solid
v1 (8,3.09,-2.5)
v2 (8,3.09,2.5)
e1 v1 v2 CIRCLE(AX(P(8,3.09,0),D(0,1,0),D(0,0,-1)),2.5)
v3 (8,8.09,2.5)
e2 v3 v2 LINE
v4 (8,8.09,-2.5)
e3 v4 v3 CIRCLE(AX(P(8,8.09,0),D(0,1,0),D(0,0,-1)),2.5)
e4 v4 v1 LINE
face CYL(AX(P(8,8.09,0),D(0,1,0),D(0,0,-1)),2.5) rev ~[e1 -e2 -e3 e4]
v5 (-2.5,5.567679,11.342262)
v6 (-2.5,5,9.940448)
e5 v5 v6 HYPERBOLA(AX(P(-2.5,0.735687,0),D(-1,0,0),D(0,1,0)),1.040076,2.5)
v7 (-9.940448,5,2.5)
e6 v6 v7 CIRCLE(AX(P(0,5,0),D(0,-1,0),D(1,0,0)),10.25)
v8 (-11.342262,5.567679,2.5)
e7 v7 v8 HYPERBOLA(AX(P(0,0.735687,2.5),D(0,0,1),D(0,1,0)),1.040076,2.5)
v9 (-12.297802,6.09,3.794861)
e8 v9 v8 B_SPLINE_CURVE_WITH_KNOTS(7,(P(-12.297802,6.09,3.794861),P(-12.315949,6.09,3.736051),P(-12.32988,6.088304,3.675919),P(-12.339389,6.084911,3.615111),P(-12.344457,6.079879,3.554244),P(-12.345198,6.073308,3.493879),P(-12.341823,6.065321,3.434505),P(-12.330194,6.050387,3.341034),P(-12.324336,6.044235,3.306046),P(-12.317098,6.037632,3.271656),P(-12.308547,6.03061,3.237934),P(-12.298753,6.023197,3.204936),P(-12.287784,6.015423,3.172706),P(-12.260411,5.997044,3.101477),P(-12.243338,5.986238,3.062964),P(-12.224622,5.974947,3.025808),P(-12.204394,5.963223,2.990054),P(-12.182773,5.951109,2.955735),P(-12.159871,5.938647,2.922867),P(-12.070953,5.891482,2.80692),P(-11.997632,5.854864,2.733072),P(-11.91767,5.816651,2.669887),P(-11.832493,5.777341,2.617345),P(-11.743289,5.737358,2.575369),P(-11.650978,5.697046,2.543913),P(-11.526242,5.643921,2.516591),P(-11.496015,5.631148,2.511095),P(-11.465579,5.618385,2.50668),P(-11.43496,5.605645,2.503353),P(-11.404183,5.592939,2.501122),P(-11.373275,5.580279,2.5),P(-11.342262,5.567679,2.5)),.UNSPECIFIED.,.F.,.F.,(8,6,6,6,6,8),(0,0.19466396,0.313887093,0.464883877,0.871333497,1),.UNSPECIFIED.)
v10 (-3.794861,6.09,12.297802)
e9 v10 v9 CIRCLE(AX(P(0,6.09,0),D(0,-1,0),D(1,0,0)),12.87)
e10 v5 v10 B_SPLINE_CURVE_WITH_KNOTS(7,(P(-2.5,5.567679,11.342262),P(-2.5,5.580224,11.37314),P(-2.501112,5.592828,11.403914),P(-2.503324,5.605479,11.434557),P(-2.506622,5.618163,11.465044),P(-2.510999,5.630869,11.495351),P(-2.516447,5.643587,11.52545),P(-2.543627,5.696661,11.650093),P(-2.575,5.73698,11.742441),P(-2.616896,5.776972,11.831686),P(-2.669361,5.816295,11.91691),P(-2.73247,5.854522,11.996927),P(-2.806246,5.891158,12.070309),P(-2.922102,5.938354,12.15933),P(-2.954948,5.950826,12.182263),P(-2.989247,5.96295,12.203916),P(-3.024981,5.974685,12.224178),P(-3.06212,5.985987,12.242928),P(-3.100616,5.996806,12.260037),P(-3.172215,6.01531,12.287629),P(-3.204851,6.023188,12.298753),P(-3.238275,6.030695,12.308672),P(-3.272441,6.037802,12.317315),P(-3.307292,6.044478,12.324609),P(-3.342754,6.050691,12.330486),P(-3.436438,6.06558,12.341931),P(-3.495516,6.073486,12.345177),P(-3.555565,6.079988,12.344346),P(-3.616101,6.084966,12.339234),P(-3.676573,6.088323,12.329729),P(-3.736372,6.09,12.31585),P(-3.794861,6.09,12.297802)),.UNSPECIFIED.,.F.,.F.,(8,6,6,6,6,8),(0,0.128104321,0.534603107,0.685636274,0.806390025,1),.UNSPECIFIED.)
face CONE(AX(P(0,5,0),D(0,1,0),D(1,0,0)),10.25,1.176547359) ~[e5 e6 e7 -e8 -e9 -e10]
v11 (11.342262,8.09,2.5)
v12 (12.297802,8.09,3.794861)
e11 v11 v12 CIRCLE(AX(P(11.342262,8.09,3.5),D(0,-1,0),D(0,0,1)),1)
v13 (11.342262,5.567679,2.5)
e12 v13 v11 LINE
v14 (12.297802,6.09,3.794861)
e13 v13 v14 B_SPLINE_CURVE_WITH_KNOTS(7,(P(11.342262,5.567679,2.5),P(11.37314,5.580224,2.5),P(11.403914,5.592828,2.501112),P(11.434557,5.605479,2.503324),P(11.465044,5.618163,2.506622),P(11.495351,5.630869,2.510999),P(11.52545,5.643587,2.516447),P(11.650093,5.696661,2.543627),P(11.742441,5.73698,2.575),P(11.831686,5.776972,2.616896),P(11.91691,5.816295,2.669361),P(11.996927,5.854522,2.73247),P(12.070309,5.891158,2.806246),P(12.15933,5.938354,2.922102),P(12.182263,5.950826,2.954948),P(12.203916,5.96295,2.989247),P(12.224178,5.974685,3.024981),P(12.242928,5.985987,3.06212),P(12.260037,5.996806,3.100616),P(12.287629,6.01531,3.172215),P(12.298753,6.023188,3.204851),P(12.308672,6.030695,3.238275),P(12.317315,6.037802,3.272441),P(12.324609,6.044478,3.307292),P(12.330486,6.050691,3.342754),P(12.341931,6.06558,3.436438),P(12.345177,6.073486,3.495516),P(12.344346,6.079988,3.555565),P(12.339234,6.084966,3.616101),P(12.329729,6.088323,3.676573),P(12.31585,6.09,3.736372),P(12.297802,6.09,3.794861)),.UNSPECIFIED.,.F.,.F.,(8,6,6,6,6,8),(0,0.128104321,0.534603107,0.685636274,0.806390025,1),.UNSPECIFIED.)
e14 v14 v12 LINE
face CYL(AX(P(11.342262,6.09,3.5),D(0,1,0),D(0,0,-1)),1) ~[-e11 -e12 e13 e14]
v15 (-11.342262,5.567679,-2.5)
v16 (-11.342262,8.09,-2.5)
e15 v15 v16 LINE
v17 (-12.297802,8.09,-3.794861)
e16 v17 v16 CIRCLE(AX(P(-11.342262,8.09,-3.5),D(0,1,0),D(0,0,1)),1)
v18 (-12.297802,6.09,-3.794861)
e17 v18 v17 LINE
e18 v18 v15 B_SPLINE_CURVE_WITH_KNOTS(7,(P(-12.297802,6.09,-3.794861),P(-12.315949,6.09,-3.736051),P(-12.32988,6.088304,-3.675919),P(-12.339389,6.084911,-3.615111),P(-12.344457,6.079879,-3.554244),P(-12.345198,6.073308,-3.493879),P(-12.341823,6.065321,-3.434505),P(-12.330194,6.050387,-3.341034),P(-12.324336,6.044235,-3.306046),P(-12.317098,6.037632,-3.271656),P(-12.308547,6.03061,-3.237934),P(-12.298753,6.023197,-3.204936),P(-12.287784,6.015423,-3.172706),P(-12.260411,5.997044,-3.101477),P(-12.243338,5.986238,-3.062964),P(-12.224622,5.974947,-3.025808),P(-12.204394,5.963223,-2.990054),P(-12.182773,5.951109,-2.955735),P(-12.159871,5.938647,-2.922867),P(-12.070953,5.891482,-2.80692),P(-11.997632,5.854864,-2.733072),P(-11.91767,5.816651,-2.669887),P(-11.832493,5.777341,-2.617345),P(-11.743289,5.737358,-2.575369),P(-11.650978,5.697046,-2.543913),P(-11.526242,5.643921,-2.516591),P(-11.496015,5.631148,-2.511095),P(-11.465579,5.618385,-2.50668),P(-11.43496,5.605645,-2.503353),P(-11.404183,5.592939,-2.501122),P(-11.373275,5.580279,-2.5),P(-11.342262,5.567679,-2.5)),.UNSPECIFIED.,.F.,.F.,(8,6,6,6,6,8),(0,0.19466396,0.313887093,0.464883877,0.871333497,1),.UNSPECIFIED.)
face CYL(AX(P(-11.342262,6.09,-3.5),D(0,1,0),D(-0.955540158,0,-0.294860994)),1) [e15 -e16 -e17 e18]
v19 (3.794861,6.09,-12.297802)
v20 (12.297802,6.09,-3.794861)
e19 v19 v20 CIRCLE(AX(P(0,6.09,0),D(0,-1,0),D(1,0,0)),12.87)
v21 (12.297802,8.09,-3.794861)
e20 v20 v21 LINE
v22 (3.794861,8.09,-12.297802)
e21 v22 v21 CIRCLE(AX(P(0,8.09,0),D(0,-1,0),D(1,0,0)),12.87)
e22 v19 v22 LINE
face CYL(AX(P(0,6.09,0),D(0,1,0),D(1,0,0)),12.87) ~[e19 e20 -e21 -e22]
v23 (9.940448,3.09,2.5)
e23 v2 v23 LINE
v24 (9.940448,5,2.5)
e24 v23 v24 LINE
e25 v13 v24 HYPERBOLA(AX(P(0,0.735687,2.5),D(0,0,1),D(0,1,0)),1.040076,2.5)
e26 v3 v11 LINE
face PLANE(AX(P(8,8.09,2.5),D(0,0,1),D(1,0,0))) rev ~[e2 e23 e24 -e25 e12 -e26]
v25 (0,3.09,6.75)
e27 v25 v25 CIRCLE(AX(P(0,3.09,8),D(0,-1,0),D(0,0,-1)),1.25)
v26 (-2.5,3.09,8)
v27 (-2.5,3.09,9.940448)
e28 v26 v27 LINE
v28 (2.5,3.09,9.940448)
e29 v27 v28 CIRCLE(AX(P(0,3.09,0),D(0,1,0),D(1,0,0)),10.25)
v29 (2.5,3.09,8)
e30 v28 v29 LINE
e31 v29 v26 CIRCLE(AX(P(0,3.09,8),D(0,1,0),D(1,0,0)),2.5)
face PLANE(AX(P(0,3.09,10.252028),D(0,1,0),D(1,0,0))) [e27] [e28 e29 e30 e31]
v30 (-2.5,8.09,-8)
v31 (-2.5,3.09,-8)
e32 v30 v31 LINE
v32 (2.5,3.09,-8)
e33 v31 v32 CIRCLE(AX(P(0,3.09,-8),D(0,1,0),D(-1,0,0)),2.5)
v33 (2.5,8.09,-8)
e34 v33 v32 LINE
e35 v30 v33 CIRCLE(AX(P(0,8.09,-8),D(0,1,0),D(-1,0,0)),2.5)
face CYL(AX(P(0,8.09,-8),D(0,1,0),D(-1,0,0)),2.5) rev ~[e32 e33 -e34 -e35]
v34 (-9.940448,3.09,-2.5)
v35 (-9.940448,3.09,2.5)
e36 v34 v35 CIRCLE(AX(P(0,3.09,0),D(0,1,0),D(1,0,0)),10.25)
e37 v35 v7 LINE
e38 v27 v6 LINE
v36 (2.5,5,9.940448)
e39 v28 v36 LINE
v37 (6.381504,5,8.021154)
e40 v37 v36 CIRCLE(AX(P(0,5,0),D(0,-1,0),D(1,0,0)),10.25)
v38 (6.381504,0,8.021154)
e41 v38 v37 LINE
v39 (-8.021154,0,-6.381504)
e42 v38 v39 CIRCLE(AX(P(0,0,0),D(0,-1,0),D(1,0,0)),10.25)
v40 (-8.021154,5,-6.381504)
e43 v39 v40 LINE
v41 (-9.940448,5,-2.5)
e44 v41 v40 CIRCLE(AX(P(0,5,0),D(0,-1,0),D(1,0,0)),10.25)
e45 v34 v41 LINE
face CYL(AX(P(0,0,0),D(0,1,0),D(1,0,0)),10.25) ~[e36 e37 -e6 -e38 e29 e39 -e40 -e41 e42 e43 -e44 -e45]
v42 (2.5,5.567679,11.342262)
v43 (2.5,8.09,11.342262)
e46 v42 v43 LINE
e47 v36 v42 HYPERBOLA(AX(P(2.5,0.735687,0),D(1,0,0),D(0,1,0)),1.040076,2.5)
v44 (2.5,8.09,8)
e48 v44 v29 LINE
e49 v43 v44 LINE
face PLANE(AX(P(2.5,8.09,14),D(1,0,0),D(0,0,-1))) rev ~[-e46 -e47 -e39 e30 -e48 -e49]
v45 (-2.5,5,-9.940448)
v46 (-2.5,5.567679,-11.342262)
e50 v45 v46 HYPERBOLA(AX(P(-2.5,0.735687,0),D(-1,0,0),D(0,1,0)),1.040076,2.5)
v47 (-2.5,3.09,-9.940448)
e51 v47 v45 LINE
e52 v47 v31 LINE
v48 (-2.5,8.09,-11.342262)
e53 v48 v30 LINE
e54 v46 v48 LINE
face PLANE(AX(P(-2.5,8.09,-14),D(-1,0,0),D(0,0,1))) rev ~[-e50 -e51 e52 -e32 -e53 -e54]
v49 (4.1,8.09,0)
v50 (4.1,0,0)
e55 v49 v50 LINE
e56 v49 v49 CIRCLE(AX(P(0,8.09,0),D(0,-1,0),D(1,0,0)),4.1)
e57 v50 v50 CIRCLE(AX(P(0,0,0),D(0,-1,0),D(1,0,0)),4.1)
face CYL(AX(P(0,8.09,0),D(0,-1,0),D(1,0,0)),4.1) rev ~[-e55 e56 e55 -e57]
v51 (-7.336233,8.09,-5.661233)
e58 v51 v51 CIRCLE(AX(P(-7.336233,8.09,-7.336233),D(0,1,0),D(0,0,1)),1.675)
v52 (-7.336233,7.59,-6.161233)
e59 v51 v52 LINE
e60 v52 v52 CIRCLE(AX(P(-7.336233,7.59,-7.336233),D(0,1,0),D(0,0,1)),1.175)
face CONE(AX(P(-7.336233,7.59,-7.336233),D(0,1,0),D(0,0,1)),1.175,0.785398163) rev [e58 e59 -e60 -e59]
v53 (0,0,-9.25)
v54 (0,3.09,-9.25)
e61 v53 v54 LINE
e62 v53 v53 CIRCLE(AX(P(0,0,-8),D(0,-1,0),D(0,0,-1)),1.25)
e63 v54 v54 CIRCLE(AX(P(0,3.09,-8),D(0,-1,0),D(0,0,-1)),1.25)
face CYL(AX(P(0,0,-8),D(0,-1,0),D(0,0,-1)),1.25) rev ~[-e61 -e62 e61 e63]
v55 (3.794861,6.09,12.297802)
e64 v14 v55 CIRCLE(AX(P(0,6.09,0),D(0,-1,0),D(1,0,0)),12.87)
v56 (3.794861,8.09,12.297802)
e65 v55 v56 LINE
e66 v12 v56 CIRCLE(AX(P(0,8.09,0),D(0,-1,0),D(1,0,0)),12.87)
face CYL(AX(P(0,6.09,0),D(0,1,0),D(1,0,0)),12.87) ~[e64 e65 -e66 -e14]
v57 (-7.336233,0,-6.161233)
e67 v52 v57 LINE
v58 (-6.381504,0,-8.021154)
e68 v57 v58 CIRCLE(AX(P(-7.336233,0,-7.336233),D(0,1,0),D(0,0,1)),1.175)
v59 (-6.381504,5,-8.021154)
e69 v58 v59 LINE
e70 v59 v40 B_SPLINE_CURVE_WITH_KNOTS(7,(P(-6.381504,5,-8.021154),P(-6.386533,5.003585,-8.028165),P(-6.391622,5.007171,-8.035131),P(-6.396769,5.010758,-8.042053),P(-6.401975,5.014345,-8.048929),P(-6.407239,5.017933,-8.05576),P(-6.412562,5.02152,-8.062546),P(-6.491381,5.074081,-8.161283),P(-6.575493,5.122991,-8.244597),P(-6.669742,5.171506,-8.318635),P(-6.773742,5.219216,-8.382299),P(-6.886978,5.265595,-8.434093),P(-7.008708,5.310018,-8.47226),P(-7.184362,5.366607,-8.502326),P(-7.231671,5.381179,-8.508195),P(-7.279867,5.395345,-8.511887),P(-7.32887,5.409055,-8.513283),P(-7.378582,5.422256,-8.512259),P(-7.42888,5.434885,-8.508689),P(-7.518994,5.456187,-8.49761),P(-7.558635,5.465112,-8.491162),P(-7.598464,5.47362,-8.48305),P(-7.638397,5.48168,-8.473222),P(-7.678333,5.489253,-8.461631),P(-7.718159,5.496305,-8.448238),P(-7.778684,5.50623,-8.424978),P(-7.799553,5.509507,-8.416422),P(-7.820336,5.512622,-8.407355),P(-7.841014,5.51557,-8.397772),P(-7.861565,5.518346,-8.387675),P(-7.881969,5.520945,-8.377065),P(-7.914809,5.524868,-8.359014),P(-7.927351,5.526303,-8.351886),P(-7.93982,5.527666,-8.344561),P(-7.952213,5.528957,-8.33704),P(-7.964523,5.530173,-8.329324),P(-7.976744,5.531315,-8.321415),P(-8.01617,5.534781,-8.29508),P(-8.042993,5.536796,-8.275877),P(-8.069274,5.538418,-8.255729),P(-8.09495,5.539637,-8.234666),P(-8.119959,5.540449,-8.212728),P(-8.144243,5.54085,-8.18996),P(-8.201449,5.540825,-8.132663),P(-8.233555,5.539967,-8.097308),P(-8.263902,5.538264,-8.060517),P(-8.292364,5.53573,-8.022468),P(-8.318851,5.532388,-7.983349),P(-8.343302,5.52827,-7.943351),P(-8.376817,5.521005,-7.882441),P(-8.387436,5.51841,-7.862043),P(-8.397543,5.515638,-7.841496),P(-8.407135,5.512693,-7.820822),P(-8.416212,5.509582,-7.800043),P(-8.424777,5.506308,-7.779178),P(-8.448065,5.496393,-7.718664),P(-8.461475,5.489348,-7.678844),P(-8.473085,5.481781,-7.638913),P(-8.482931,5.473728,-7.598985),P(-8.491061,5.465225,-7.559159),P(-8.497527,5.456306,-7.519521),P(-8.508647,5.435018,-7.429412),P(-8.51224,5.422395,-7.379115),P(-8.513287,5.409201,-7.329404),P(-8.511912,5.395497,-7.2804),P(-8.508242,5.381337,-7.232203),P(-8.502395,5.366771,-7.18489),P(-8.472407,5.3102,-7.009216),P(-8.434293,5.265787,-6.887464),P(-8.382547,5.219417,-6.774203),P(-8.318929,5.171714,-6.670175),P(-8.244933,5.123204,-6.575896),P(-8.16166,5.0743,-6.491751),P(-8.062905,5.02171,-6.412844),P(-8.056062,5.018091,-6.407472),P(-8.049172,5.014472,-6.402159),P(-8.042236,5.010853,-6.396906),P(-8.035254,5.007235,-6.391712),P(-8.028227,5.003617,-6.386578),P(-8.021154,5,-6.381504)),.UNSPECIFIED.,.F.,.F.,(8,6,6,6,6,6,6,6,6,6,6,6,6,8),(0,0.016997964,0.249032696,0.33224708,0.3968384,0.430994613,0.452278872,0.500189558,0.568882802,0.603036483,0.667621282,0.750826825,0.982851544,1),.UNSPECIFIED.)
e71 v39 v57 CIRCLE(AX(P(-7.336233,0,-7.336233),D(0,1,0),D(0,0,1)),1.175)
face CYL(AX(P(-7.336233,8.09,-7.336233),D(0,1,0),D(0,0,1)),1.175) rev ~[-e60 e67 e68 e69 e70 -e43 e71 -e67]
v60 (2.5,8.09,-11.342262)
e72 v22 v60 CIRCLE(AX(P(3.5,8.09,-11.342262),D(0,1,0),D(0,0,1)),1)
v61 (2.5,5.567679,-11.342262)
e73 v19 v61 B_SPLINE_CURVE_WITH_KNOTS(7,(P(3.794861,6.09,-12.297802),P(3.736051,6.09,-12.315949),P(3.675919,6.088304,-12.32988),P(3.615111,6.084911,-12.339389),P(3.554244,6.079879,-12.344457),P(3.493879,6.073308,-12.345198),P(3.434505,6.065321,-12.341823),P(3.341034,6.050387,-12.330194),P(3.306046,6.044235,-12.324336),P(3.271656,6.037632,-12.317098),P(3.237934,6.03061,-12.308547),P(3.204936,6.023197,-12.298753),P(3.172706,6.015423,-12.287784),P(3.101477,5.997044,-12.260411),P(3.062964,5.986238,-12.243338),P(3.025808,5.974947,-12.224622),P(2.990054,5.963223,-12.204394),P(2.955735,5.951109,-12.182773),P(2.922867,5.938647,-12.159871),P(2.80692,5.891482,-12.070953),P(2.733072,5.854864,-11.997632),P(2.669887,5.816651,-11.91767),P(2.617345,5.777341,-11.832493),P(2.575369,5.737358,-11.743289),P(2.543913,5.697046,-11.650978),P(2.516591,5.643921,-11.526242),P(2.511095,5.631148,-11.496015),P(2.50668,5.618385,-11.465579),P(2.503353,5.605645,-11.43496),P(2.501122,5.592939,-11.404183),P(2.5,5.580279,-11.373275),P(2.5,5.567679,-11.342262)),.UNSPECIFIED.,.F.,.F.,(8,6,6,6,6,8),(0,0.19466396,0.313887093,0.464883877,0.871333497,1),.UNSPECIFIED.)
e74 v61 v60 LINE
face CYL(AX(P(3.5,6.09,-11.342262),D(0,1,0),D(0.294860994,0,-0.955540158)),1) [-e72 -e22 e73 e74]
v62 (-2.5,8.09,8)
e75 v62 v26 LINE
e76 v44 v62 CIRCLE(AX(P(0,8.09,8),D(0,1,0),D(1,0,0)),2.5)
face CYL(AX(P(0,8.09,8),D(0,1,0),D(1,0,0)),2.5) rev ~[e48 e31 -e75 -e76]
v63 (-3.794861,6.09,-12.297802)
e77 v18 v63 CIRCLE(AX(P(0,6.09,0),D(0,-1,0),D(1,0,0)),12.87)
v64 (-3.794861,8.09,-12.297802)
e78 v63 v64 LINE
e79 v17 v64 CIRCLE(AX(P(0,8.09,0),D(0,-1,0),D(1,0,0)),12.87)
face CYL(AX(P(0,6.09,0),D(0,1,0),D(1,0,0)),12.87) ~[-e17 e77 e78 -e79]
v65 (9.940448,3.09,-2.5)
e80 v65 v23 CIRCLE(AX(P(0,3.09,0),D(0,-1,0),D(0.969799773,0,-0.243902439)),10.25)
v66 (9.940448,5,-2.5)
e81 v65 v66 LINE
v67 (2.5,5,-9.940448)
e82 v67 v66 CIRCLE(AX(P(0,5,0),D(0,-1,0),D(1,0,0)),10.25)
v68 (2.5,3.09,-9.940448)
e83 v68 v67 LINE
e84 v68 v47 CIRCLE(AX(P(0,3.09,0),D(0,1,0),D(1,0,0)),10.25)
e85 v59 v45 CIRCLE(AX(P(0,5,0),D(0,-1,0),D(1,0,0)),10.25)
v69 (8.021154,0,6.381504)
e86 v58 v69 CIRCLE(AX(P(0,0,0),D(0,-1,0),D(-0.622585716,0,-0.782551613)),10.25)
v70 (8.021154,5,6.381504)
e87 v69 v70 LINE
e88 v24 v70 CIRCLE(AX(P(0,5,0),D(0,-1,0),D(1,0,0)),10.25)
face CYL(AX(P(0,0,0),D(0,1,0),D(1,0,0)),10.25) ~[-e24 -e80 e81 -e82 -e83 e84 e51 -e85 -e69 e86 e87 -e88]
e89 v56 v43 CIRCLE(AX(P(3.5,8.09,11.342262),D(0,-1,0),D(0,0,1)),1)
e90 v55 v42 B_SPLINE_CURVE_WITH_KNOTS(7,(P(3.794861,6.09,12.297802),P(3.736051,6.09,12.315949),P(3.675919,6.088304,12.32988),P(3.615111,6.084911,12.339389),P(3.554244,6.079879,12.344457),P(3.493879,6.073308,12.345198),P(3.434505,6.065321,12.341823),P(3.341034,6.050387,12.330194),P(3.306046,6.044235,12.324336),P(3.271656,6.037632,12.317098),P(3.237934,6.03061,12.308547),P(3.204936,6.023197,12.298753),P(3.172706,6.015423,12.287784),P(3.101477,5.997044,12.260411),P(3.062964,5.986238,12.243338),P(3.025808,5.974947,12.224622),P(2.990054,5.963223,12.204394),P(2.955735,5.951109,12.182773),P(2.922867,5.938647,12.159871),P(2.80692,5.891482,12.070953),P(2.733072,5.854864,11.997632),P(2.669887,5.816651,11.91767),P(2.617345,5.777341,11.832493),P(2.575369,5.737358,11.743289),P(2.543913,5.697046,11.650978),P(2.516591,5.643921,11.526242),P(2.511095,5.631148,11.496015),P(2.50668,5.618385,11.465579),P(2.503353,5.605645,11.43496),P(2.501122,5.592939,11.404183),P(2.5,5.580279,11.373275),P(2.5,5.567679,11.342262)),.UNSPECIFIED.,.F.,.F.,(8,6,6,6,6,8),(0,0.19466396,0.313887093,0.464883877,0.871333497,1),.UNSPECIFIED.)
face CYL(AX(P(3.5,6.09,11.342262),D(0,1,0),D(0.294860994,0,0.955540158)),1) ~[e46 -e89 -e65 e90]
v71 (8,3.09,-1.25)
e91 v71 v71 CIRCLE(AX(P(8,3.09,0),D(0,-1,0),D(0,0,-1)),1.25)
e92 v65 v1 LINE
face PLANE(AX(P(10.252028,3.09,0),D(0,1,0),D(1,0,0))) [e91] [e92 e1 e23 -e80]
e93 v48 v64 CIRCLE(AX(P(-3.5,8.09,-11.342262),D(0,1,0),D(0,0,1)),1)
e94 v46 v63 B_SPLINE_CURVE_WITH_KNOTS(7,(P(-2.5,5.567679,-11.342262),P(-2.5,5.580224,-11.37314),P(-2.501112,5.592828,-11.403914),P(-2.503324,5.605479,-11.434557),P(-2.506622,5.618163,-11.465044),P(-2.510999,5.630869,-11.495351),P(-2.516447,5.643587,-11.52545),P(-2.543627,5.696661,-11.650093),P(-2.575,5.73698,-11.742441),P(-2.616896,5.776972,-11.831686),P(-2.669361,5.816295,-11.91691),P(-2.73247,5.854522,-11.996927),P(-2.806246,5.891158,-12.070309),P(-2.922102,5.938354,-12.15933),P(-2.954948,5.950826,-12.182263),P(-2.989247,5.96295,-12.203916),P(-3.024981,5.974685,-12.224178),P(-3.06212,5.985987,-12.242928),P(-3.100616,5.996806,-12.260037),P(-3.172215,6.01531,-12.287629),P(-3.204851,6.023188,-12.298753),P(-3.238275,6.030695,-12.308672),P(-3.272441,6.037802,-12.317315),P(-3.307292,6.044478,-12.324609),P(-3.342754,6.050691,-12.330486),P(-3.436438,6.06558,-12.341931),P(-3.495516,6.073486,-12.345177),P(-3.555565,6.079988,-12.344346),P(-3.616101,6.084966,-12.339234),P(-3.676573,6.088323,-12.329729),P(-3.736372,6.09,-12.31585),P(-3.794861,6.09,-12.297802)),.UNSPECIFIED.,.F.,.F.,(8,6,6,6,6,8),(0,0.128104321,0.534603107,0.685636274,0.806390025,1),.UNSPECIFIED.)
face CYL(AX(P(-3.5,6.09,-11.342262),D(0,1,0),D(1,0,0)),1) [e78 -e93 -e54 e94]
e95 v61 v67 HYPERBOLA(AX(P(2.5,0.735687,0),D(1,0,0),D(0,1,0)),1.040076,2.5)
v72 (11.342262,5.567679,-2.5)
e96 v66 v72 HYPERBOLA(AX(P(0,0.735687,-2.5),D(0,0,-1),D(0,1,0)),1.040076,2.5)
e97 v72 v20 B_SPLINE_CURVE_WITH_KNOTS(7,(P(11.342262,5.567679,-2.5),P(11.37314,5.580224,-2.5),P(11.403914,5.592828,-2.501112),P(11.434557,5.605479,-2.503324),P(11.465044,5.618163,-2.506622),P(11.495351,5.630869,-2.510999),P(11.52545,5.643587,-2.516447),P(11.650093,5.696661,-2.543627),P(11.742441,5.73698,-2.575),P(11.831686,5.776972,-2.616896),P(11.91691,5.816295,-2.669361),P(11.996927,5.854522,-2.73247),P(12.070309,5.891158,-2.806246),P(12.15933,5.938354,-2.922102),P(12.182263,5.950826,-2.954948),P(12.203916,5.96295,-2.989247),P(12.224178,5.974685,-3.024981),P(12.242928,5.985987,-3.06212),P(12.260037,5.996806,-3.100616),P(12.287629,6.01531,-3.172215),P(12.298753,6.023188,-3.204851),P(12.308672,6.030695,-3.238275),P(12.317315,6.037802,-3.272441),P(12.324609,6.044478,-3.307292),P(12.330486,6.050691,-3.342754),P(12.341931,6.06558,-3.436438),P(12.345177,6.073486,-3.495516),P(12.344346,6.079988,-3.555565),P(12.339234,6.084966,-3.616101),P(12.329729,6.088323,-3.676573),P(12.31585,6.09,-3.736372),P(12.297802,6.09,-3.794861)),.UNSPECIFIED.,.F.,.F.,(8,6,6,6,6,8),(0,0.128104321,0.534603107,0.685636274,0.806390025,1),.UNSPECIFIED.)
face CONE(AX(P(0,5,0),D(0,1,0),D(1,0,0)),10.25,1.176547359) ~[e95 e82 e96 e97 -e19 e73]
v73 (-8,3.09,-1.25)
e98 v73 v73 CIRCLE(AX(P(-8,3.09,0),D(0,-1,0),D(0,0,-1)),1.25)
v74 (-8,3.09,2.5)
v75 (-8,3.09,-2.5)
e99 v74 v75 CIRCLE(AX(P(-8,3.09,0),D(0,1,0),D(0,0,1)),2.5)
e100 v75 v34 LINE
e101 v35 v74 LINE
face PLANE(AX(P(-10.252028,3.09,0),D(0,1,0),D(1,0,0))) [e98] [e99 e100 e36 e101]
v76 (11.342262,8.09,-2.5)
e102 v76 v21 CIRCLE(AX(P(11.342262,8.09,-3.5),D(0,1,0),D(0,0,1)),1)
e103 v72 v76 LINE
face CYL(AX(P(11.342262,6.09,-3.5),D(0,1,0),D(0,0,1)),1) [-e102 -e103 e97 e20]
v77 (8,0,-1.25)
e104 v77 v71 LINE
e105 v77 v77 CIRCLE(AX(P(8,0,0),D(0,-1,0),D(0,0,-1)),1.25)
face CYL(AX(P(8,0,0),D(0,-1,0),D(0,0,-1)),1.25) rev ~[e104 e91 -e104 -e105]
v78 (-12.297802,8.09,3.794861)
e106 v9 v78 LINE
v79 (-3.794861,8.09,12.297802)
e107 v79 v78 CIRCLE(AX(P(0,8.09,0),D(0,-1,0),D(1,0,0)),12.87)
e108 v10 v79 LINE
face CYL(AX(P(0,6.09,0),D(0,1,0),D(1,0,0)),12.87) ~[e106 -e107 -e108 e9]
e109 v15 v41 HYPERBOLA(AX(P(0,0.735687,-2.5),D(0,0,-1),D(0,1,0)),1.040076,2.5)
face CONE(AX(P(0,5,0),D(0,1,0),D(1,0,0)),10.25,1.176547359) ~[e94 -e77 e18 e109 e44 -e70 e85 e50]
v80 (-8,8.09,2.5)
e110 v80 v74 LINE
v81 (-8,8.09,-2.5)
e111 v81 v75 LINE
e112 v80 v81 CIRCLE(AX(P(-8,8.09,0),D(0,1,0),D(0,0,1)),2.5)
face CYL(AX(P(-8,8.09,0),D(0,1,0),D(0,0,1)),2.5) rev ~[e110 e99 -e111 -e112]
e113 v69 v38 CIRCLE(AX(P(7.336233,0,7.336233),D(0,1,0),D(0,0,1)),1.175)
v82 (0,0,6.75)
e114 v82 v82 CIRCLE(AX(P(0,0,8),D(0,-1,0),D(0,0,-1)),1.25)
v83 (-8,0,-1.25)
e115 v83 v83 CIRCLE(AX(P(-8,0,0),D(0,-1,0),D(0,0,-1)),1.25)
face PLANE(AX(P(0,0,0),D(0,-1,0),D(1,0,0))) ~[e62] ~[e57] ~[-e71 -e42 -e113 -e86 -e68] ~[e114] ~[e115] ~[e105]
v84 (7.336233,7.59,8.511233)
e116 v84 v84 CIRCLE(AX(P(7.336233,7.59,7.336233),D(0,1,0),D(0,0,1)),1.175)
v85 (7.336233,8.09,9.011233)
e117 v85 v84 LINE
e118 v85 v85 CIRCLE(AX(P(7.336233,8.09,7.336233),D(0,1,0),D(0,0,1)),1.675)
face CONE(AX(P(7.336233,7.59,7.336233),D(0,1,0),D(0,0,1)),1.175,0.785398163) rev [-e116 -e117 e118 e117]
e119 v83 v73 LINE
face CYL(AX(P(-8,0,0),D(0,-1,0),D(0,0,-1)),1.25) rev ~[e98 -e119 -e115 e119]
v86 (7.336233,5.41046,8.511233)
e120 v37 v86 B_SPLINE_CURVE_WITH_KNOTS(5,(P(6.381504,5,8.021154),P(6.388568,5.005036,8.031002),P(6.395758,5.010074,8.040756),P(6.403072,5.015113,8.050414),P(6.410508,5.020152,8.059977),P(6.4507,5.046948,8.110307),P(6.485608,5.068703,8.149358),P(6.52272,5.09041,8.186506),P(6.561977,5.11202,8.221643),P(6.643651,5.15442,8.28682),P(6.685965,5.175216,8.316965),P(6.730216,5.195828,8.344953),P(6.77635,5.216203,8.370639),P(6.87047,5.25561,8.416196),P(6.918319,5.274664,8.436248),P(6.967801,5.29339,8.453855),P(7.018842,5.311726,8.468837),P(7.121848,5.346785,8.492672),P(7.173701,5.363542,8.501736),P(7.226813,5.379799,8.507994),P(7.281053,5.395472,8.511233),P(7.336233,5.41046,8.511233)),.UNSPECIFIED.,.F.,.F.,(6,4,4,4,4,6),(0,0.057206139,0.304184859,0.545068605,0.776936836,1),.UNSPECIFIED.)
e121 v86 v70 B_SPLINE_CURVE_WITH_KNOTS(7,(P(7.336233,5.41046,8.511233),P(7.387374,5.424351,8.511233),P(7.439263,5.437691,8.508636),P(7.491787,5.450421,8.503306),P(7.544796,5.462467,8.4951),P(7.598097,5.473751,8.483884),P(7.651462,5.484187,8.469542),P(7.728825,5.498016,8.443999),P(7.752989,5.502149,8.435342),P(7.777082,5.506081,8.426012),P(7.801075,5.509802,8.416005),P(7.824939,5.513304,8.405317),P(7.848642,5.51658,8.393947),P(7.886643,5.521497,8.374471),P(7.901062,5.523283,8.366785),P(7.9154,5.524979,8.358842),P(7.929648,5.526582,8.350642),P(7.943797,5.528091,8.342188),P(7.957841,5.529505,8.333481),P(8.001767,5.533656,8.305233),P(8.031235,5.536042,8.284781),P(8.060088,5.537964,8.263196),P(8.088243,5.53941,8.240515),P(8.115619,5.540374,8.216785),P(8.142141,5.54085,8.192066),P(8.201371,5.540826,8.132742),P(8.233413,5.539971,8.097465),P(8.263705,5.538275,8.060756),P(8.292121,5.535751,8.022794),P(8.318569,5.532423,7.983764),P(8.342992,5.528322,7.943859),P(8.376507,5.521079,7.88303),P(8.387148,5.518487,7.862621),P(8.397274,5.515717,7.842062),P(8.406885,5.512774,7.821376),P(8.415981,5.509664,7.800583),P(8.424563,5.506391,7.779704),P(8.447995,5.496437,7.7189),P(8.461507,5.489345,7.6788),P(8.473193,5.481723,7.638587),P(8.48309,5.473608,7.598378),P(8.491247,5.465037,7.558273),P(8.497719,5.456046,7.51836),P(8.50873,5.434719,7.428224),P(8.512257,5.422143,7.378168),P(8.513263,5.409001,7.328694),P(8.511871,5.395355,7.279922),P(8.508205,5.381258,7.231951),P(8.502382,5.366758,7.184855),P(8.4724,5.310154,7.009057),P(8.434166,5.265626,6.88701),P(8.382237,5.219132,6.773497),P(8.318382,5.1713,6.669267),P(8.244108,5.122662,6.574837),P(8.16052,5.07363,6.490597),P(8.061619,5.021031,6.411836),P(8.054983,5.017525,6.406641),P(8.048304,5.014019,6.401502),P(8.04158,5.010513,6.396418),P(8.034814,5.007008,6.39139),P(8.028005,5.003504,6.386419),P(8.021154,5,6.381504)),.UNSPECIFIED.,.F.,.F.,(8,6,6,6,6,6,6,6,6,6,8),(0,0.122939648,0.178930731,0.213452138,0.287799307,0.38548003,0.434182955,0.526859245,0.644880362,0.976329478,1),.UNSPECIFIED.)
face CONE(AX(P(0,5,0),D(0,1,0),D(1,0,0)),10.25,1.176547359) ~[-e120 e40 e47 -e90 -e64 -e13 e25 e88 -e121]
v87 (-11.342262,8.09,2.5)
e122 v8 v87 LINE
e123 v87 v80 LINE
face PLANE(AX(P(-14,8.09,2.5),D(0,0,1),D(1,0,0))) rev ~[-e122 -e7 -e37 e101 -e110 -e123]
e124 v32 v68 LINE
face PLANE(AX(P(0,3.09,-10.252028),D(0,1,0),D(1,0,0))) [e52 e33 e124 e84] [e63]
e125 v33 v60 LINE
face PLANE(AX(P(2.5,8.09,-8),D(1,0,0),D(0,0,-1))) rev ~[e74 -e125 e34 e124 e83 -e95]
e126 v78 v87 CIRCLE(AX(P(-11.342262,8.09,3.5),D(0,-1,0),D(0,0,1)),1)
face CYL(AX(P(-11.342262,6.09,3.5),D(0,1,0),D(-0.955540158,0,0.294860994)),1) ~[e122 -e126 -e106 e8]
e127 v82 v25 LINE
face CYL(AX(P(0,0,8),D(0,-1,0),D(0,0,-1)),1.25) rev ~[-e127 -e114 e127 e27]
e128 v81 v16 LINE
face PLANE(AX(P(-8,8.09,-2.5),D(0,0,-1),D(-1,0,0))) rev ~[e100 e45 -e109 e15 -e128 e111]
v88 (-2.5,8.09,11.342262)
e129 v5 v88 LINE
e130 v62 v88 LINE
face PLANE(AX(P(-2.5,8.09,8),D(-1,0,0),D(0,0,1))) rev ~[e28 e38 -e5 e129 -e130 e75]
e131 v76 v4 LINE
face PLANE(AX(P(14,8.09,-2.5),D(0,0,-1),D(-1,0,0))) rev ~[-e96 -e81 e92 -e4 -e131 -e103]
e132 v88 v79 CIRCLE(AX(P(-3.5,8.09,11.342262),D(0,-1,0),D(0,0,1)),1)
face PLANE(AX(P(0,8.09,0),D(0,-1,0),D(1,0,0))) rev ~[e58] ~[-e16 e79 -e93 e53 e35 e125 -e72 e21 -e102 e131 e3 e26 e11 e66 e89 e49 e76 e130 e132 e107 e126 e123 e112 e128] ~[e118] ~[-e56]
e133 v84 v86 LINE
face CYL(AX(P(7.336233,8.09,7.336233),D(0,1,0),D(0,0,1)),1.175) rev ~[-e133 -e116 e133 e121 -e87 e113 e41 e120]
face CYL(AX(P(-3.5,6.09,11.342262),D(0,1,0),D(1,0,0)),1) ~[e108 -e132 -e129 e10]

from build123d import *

# Parameters (mm, degrees)
SKETCH3_R          = 1.25
CUT_EXTRUDE1_DEPTH = 20.917878903
CUT_EXTRUDE2_DEPTH = 5
SKETCH4_R          = 1.175
CUT_EXTRUDE3_DEPTH = 20.601579018
CHAMFER1_SIZE      = 0.5
FILLET1_R          = 1


with BuildPart() as part:
    # Sketch2 → Revolve2 (revolve)
    with BuildSketch(Plane.XY):
        Polygon((4.1, 0), (10.25, 0), (10.25, 5), (12.87, 6.09), (12.87, 8.09), (4.1, 8.09), align=None)
    revolve(axis=Axis((0, 8.09, 0), (0, -1, 0)))

    # Sketch3 → Cut-Extrude1 (cut, through all)
    with BuildSketch(Plane.XZ):
        with Locations(Location((0, 8, 0), (0, 0, 270))):
            Circle(SKETCH3_R)
        with Locations(Location((8, 0, 0), (0, 0, 270))):
            Circle(SKETCH3_R)
        with Locations(Location((0, -8, 0), (0, 0, 270))):
            Circle(SKETCH3_R)
        with Locations(Location((-8, 0, 0), (0, 0, 270))):
            Circle(SKETCH3_R)
    extrude(amount=-CUT_EXTRUDE1_DEPTH, mode=Mode.SUBTRACT)

    # Sketch5 → Cut-Extrude2 (cut)
    with BuildSketch(Plane(origin=(0, 8.09, 0), x_dir=(1, 0, 0), z_dir=(0, 1, 0))):
        with BuildLine():
            Line((-2.5, -8), (-2.5, -14))
            Line((-2.5, -14), (2.5, -14))
            Line((2.5, -14), (2.5, -8))
            ThreePointArc((2.5, -8), (0, -5.5), (-2.5, -8))
        make_face()
        with BuildLine():
            Line((-8, 2.5), (-14, 2.5))
            Line((-14, 2.5), (-14, -2.5))
            Line((-14, -2.5), (-8, -2.5))
            ThreePointArc((-8, -2.5), (-5.5, 0), (-8, 2.5))
        make_face()
        with BuildLine():
            Line((2.5, 8), (2.5, 14))
            Line((2.5, 14), (-2.5, 14))
            Line((-2.5, 14), (-2.5, 8))
            ThreePointArc((-2.5, 8), (0, 5.5), (2.5, 8))
        make_face()
        with BuildLine():
            Line((8, -2.5), (14, -2.5))
            Line((14, -2.5), (14, 2.5))
            Line((14, 2.5), (8, 2.5))
            ThreePointArc((8, 2.5), (5.5, 0), (8, -2.5))
        make_face()
    extrude(amount=-CUT_EXTRUDE2_DEPTH, mode=Mode.SUBTRACT)

    # Sketch4 → Cut-Extrude3 (cut, through all)
    with BuildSketch(Plane(origin=(0, 8.09, 0), x_dir=(1, 0, 0), z_dir=(0, 1, 0))):
        with Locations(Location((-7.336232855, 7.336232855, 0), (0, 0, 270))):
            Circle(SKETCH4_R)
        with Locations(Location((7.336232855, -7.336232855, 0), (0, 0, 270))):
            Circle(SKETCH4_R)
    extrude(amount=-CUT_EXTRUDE3_DEPTH, mode=Mode.SUBTRACT)

    # Chamfer1
    chamfer1_edges = [part.edges().sort_by_distance(p)[0] for p in [
        (7.336232855, 8.09, 6.161232855),
        (-7.336232855, 8.09, -8.511232855),
    ]]
    chamfer(chamfer1_edges, length=CHAMFER1_SIZE)

    # Fillet1
    fillet1_edges = [part.edges().sort_by_distance(p)[0] for p in [
        (-2.5, 7.09, -12.624852474),
        (2.5, 7.09, -12.624852474),
        (-12.624852474, 7.09, 2.5),
        (-12.624852474, 7.09, -2.5),
        (12.624852474, 7.09, -2.5),
        (12.624852474, 7.09, 2.5),
        (2.5, 7.09, 12.624852474),
        (-2.5, 7.09, 12.624852474),
    ]]
    fillet(fillet1_edges, radius=FILLET1_R)


solid = part.part
